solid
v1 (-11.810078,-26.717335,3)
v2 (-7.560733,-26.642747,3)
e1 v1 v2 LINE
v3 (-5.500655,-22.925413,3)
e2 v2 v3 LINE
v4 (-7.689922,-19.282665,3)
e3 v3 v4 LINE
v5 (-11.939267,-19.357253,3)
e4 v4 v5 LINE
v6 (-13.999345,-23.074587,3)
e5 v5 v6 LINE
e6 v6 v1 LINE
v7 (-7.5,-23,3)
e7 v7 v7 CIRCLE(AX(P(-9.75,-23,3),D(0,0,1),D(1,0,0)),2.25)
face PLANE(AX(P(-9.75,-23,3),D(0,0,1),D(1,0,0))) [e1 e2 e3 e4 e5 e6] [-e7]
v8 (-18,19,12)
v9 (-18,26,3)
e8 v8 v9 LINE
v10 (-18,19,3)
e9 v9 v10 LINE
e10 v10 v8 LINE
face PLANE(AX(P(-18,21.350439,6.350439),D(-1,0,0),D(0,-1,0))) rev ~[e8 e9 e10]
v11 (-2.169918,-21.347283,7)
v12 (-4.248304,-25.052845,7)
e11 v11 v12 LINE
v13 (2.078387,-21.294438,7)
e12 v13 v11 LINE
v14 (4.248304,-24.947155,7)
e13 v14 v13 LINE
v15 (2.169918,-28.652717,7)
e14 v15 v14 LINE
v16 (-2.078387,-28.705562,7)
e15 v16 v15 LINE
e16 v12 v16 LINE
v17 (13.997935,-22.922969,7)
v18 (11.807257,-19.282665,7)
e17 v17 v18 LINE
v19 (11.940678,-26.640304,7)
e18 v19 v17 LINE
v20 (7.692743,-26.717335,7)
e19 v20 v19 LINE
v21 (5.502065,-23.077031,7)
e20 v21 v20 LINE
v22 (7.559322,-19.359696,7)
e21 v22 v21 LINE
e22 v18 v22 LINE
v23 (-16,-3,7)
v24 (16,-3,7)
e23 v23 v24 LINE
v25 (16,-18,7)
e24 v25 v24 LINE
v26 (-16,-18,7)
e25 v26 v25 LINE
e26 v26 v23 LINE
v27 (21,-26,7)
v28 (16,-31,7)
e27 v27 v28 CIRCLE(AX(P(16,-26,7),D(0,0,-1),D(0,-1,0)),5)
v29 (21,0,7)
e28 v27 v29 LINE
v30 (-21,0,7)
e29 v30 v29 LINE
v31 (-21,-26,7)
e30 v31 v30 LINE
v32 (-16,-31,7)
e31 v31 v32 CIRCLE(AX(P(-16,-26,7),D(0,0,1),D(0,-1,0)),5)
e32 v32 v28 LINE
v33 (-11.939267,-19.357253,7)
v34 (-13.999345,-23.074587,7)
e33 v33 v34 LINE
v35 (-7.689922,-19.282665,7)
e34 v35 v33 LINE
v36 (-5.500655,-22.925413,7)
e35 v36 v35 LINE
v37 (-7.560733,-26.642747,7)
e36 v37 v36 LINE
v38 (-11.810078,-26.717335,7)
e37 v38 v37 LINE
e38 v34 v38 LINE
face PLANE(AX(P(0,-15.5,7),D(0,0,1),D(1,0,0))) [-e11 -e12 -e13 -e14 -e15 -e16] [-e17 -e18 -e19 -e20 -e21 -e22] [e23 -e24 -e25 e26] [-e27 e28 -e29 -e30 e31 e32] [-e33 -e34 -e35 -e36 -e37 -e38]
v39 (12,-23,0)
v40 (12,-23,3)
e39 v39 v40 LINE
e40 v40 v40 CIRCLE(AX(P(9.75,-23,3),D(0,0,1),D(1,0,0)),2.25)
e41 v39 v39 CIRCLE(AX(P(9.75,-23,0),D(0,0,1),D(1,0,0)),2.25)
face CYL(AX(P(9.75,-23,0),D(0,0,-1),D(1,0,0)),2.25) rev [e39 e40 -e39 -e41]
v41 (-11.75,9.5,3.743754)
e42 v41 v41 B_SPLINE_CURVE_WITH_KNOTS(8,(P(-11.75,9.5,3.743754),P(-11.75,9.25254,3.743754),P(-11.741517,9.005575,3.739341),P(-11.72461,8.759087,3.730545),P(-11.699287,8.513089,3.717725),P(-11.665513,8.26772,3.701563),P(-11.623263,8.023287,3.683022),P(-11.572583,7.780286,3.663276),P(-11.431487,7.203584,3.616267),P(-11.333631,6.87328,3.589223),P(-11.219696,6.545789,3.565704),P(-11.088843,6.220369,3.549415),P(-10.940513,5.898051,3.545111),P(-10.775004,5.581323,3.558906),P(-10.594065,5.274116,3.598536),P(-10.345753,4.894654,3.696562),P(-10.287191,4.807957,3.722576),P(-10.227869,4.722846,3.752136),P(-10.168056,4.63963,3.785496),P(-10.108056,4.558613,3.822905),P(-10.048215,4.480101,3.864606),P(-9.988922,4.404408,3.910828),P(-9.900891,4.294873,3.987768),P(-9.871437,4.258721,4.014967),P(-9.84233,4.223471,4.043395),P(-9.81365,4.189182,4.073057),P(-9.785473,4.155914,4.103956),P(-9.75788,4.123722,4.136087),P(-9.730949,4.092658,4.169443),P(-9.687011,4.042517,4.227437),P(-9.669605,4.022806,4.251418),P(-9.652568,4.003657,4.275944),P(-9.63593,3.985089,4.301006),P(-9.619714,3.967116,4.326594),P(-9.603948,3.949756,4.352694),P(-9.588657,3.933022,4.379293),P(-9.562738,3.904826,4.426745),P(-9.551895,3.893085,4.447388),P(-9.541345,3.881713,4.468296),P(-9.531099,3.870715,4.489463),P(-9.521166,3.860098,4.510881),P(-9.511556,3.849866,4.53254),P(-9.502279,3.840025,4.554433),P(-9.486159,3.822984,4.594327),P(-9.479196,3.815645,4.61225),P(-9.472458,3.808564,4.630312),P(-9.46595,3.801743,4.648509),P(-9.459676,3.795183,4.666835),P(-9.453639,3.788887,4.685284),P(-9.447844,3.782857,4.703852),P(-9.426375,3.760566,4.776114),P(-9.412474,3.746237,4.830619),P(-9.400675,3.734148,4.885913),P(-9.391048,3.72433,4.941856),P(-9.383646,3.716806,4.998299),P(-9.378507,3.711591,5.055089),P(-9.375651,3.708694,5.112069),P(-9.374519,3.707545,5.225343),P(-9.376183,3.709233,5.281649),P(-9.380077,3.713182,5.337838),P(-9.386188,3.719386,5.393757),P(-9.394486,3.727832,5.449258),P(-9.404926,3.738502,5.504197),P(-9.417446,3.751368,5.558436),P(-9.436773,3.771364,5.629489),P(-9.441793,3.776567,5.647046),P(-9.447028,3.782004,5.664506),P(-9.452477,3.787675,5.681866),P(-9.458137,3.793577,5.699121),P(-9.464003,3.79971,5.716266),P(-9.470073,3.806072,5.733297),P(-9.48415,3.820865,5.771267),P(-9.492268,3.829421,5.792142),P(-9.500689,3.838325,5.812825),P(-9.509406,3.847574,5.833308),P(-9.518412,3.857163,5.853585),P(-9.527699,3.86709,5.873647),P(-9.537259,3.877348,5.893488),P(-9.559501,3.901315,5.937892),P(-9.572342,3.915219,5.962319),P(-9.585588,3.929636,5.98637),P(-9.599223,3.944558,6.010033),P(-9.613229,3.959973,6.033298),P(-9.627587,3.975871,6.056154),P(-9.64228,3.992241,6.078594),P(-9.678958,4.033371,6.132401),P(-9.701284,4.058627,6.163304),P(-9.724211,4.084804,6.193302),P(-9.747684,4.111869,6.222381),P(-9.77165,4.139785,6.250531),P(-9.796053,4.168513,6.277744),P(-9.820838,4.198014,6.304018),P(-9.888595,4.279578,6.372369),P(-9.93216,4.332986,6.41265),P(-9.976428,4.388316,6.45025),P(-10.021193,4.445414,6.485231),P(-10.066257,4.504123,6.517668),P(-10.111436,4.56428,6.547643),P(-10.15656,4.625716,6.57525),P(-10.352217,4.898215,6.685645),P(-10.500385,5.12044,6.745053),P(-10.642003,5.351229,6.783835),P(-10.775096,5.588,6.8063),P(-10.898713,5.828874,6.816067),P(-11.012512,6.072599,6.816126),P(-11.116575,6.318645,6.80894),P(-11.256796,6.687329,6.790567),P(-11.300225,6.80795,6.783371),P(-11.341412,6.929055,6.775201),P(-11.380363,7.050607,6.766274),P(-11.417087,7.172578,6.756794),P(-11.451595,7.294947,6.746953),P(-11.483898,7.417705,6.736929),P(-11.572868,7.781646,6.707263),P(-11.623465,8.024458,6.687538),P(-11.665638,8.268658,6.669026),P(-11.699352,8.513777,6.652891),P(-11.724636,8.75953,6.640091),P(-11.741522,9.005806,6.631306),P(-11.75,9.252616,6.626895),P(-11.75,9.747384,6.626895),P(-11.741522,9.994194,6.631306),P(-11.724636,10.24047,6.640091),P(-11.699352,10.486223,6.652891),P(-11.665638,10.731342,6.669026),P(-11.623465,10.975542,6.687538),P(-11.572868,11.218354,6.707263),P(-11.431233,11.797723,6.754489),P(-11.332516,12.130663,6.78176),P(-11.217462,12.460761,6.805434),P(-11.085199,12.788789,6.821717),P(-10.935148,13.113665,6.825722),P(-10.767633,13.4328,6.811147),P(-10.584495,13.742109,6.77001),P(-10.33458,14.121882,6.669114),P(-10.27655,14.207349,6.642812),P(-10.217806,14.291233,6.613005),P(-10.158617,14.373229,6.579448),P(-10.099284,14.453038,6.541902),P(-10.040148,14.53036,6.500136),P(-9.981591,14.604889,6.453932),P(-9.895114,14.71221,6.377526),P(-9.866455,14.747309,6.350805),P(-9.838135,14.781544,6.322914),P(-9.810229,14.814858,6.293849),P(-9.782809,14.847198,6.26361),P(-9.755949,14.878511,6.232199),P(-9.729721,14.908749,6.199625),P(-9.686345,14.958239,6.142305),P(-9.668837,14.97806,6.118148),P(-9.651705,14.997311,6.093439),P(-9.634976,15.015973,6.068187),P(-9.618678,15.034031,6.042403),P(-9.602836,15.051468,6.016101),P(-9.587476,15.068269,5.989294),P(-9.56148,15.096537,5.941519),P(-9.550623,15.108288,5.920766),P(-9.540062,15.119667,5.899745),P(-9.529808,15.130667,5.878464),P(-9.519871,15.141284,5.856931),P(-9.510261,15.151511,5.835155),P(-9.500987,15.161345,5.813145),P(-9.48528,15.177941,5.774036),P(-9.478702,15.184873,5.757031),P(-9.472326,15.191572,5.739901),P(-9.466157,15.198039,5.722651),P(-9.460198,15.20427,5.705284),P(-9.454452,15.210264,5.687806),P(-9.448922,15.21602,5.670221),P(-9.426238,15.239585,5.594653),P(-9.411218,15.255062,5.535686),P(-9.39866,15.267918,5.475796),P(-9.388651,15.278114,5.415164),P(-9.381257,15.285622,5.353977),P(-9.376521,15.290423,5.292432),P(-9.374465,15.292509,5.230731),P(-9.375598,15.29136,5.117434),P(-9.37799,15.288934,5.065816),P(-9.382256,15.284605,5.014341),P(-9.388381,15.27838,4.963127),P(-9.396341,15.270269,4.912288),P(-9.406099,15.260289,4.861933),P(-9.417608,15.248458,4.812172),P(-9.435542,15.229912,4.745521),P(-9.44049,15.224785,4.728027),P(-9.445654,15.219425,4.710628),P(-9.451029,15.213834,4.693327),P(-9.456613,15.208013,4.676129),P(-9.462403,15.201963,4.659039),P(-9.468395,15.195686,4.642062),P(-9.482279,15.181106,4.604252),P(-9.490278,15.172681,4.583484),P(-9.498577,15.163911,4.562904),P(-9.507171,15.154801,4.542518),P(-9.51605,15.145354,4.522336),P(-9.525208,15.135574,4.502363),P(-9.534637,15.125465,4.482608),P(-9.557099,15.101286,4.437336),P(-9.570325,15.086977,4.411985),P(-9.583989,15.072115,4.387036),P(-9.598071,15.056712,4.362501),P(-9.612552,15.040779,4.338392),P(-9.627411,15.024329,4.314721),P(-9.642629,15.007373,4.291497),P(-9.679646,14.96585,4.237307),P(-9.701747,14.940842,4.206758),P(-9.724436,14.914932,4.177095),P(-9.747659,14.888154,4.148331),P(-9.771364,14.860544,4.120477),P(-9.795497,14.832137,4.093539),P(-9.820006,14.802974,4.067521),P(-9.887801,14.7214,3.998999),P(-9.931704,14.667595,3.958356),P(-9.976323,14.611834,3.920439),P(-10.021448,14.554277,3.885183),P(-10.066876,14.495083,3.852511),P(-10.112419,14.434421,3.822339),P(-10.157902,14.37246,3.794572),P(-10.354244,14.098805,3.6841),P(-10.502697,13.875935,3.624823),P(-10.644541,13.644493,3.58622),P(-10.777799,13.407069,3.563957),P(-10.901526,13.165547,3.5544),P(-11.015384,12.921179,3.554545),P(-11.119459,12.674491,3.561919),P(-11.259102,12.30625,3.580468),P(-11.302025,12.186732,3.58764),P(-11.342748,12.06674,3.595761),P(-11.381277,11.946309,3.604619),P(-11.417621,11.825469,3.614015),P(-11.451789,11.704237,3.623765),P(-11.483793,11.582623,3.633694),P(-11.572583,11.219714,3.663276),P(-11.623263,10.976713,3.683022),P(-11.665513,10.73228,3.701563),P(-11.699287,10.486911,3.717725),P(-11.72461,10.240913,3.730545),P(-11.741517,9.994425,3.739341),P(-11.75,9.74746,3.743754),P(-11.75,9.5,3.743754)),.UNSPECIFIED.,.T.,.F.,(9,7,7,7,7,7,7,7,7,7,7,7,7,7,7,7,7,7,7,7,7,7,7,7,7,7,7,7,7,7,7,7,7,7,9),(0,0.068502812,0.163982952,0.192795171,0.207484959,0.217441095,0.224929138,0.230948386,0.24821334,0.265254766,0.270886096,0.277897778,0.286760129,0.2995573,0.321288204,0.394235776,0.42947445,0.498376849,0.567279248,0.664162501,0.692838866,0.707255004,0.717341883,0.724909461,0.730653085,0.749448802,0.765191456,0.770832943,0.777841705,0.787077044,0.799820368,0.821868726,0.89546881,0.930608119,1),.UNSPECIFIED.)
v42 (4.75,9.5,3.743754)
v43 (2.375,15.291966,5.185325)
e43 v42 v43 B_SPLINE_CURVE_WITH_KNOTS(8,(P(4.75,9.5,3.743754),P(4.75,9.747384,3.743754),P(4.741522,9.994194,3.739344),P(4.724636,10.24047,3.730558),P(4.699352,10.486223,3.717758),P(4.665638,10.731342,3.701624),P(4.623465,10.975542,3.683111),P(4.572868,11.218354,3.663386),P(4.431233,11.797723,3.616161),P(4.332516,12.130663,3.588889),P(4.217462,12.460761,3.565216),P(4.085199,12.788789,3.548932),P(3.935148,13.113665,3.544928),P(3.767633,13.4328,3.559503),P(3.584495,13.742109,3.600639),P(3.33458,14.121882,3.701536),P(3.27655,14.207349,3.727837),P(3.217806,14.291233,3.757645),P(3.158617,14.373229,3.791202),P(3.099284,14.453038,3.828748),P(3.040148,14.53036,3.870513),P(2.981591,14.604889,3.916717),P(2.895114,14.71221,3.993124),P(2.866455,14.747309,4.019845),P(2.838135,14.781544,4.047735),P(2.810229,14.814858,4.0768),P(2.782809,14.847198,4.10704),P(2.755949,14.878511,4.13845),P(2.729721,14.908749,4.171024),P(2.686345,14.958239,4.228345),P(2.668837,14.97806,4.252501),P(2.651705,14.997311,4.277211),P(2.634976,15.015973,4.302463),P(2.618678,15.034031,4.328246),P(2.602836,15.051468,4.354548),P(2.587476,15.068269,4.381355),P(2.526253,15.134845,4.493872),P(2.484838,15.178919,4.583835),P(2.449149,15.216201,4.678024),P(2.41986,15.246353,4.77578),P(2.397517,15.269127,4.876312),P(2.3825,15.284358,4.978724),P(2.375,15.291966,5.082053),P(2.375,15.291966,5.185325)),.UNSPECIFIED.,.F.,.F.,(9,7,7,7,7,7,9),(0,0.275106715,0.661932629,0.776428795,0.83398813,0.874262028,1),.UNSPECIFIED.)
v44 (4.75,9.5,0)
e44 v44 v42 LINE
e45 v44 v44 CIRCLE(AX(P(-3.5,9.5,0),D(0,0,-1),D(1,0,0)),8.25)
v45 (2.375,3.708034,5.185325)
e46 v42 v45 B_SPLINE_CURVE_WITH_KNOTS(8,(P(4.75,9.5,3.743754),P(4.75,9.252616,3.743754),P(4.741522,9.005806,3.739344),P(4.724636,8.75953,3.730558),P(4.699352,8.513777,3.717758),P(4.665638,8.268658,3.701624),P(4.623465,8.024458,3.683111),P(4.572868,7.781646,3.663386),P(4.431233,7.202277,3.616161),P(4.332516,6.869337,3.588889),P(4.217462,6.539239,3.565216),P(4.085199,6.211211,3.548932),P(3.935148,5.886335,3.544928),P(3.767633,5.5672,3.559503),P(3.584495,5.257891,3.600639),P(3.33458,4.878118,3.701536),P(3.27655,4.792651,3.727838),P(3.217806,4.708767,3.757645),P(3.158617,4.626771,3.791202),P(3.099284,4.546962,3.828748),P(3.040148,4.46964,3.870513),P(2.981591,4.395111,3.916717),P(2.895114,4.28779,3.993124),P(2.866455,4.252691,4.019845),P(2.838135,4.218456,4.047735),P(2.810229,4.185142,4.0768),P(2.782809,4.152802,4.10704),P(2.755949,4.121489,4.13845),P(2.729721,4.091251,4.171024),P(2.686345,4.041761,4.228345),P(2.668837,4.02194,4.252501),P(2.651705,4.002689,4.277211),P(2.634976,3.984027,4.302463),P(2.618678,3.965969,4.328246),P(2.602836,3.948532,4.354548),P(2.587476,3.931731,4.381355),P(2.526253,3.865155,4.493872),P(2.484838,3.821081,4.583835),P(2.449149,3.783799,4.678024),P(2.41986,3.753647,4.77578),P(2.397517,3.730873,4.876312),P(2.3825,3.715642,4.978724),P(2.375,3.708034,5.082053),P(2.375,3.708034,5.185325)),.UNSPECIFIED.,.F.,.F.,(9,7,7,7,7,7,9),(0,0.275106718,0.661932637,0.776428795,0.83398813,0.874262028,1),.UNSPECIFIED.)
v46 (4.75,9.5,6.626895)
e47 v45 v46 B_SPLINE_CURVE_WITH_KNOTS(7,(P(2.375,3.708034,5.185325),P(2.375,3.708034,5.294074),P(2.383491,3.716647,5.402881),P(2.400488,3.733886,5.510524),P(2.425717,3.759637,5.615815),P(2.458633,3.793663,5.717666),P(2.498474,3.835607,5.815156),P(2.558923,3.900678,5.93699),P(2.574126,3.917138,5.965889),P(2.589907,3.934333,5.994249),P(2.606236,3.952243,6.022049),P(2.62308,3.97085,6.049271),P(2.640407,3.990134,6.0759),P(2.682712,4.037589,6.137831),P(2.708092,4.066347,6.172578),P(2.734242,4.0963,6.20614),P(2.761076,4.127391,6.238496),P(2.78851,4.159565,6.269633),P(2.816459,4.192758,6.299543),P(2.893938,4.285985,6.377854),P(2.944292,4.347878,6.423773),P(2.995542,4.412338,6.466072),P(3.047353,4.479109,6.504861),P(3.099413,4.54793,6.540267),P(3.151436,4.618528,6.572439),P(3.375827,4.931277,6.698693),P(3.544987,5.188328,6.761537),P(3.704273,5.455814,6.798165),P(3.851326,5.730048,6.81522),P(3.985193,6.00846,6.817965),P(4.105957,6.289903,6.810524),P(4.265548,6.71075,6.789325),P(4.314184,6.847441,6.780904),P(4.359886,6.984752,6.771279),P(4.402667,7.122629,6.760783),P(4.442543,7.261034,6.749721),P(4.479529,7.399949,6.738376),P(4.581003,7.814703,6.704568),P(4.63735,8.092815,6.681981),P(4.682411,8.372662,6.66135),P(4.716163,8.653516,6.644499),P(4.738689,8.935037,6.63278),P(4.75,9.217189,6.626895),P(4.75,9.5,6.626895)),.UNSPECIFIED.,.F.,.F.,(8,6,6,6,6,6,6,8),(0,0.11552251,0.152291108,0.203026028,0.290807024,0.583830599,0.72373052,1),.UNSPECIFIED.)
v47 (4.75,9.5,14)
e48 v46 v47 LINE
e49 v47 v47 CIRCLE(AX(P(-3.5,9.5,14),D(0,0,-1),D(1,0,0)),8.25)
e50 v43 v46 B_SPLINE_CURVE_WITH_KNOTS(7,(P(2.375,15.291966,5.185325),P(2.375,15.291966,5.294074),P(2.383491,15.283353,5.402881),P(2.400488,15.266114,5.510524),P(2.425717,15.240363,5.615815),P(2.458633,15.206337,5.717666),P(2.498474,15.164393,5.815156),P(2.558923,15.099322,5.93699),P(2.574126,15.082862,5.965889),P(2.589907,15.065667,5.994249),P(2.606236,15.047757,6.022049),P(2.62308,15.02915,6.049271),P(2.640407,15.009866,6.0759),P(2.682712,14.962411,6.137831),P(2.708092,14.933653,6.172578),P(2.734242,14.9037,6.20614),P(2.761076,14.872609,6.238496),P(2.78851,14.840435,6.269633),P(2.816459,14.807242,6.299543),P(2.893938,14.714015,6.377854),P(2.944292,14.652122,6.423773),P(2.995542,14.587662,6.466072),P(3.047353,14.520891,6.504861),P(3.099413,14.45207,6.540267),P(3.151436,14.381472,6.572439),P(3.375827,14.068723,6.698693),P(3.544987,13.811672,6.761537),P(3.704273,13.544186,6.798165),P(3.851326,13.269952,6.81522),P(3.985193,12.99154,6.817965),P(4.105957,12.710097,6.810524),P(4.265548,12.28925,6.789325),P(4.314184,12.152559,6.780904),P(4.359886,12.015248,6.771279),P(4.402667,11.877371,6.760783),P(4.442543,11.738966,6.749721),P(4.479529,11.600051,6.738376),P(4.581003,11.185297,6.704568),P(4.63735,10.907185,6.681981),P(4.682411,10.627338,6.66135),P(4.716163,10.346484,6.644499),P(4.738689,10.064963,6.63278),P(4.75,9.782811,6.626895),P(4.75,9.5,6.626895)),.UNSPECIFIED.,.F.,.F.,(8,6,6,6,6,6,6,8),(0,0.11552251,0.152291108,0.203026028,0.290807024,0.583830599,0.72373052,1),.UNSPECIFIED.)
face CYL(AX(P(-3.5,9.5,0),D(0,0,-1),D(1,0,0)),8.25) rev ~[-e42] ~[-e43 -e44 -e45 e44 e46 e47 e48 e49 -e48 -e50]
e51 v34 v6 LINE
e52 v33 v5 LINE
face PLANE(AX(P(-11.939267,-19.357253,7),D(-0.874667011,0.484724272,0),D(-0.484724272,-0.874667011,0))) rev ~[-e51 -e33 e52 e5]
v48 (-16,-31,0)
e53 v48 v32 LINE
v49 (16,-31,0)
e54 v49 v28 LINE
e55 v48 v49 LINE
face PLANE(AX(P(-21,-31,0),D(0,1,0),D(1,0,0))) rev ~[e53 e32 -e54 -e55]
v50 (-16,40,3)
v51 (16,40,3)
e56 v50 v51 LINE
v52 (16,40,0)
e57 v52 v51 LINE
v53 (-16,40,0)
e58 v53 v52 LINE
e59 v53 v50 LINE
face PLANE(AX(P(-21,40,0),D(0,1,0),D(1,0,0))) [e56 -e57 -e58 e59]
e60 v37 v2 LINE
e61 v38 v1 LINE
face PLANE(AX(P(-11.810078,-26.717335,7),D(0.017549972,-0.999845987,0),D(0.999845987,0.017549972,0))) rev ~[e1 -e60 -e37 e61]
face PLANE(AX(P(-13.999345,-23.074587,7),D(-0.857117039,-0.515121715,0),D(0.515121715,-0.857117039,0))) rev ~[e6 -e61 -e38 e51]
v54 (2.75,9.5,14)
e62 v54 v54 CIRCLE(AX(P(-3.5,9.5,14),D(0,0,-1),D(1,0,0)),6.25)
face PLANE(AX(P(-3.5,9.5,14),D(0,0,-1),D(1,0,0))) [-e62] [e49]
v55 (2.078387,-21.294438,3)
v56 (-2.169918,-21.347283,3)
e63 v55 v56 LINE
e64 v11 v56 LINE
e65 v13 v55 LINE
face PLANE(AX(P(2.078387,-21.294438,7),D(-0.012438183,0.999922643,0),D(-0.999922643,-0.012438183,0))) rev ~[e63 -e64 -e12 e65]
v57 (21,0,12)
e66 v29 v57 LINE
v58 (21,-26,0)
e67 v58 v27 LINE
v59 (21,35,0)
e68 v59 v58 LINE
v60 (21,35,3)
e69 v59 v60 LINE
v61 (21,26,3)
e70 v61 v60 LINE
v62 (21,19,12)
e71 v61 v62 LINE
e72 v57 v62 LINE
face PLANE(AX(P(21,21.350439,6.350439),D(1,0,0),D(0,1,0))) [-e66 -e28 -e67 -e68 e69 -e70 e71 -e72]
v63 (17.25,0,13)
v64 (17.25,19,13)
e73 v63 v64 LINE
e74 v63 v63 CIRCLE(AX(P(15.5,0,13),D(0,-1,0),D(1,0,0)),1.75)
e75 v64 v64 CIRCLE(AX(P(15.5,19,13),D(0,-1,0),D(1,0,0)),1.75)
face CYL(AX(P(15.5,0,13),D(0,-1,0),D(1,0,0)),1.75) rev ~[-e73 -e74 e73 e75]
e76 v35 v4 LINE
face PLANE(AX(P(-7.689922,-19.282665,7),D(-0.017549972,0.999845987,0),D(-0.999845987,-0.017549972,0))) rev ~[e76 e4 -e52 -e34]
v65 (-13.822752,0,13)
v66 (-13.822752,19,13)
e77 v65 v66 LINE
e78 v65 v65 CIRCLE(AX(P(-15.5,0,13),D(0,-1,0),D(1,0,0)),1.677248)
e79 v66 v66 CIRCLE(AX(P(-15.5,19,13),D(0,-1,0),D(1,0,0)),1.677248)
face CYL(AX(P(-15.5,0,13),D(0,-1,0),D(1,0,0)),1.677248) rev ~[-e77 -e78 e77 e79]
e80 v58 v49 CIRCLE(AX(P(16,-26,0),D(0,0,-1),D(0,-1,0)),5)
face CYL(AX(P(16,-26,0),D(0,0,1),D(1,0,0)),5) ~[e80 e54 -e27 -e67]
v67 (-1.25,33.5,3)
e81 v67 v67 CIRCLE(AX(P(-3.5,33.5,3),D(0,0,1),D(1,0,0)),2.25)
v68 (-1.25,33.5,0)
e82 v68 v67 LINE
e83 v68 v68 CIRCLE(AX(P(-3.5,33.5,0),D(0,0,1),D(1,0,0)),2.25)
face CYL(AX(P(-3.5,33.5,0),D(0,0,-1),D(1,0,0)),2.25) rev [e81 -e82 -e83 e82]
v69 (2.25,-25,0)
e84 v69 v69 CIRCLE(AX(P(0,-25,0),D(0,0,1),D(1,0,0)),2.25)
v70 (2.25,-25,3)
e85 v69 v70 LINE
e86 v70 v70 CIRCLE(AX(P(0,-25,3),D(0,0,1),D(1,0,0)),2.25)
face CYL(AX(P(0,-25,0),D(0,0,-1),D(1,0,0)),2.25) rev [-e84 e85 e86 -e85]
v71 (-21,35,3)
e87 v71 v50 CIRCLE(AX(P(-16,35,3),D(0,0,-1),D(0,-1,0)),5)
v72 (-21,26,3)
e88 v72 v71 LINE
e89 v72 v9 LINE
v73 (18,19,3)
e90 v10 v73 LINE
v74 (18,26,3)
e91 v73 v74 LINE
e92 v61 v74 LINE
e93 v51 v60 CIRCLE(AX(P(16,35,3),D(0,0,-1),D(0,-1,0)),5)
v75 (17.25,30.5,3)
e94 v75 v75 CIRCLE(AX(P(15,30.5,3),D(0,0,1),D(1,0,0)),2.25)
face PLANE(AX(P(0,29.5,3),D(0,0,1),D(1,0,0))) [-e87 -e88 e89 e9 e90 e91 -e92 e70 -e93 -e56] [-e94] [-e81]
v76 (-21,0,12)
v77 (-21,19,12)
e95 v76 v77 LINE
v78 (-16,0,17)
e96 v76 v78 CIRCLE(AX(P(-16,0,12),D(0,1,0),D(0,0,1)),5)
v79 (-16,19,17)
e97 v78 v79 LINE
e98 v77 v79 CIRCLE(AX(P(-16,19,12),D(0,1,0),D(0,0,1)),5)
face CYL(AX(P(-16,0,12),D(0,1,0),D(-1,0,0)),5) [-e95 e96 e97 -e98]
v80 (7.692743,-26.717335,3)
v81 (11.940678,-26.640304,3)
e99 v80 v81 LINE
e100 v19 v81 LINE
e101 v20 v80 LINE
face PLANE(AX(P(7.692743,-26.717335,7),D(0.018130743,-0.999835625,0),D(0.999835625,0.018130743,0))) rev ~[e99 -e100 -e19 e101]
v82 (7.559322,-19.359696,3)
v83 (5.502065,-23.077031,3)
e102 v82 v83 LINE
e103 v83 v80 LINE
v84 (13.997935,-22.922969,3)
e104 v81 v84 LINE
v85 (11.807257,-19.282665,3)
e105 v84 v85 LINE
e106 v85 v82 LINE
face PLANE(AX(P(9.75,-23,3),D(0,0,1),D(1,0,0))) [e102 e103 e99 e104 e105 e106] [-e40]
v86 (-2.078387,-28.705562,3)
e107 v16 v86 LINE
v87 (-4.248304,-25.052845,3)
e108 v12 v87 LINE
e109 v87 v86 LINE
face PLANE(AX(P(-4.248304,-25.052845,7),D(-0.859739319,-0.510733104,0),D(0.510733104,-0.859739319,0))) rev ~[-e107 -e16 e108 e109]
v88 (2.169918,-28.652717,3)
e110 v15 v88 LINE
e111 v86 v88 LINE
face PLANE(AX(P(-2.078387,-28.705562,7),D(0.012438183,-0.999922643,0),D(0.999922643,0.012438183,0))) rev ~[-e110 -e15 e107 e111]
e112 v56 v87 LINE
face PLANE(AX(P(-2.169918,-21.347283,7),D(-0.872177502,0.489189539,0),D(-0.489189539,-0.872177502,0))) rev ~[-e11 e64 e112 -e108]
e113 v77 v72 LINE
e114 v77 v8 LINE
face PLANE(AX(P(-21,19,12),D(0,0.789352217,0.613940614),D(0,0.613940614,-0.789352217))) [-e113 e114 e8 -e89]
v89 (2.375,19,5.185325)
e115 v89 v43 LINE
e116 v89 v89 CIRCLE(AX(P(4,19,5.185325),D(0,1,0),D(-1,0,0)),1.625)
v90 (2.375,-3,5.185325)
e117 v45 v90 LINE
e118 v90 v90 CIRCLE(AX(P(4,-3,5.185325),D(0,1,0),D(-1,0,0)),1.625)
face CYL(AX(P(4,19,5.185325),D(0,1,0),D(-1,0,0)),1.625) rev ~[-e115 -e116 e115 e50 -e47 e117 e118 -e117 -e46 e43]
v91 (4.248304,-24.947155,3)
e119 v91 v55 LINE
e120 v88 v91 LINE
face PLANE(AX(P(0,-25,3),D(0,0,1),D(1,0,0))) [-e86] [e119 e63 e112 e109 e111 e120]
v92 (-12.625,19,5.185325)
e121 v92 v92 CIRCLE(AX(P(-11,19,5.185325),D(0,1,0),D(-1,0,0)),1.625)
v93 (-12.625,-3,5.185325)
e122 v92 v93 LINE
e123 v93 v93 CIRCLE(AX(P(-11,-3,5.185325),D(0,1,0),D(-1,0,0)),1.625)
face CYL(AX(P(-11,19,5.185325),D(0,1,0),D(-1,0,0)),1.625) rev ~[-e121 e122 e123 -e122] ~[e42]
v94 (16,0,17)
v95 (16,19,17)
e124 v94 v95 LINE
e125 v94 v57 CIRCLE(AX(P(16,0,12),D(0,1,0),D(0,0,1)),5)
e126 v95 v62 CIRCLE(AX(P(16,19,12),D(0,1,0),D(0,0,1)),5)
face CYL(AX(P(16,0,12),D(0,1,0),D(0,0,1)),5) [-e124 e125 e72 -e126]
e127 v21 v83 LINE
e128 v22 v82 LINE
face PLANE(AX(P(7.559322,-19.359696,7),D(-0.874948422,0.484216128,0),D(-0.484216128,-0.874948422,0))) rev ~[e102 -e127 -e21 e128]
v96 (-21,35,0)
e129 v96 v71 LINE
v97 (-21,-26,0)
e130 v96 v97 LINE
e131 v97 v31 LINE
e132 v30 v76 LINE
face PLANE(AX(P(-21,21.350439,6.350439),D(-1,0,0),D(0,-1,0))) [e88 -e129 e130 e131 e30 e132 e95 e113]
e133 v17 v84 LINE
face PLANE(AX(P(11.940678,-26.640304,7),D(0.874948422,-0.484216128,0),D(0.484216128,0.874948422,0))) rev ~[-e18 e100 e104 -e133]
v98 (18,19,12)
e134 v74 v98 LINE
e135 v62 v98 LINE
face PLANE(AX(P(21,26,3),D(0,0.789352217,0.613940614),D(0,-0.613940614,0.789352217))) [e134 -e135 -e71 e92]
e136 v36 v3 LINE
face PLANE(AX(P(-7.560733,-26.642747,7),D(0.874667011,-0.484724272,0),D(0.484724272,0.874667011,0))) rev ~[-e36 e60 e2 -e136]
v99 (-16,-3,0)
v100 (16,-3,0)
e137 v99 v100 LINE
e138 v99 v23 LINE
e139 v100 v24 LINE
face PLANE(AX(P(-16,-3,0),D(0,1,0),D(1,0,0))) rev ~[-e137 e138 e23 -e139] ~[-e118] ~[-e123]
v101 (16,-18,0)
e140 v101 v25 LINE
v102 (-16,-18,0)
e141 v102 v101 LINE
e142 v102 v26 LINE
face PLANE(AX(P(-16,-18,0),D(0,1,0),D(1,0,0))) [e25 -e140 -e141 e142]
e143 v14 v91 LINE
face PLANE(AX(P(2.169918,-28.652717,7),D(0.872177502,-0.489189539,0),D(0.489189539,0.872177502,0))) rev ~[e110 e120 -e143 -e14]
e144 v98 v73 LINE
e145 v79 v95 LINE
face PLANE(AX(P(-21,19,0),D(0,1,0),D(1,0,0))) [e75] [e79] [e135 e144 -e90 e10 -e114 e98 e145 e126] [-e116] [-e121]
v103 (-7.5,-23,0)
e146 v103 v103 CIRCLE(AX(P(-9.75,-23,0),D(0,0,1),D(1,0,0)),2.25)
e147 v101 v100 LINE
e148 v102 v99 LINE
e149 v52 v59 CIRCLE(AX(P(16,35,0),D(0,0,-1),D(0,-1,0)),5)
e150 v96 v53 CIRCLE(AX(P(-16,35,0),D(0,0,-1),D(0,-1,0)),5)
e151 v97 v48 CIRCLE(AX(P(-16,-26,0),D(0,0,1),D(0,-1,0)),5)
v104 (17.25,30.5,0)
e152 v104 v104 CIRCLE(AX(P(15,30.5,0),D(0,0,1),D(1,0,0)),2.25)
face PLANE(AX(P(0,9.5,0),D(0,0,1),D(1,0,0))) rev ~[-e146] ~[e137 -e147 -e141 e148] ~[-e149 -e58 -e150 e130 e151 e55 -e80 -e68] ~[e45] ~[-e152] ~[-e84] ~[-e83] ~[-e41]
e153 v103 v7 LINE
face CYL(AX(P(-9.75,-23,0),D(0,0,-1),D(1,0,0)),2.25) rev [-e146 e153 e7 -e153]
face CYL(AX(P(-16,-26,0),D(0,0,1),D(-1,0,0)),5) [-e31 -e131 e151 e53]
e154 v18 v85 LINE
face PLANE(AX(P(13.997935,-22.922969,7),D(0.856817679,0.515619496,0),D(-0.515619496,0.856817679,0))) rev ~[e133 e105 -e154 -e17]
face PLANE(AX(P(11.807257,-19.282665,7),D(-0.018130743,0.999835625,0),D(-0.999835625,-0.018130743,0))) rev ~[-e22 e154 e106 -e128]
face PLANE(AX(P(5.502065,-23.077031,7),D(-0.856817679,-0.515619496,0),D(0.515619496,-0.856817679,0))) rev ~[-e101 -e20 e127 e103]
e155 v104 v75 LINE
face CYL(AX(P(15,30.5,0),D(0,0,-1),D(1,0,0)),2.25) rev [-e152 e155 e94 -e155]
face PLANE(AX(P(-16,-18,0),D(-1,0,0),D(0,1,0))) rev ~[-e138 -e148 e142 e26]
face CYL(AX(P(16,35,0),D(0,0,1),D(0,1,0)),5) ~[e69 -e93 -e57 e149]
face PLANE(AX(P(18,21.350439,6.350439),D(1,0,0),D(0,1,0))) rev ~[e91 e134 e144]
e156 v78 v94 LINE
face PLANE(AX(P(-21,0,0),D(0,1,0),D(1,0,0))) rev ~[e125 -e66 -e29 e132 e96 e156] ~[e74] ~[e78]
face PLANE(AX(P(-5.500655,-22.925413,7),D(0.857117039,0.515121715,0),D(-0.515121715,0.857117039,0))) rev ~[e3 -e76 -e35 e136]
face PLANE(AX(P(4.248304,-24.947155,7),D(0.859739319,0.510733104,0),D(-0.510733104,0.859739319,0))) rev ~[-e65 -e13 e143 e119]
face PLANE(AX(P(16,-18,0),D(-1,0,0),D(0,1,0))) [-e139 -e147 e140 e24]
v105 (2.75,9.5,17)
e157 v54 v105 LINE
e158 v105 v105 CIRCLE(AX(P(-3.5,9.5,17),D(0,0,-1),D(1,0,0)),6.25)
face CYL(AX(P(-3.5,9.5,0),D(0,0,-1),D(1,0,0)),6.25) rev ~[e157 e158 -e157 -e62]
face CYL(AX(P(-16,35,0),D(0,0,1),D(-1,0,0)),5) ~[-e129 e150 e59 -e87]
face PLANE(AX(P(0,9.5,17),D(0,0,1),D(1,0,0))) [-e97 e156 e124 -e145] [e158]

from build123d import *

# Parameters (mm, degrees)
F0_W      = 42
F0_H      = 31
F0_R      = 2.25
F0_W_2    = 32
F0_H_2    = 15
F1_DEPTH  = 7
F0_H_3    = 21
F2_DEPTH  = 3
F0_H_4    = 19
F3_DEPTH  = 17
F4_R      = 5
F5_R      = 5
F6_R      = 6.25
F7_DEPTH  = 25
F9_DEPTH  = 3
F11_DEPTH = 3
F12_R     = 1.6772479293
F12_R_2   = 1.75
F13_DEPTH = 25
F6_R_2    = 8.25
F14_DEPTH = 14
F15_R     = 1.625
F16_DEPTH = 30
F17_R     = 2.25
F18_DEPTH = 4


with BuildPart() as f1:
    # F0 (on Top) → F1 (new body)
    with BuildSketch(Plane.XY):
        with Locations((0, -15.5)):
            Rectangle(F0_W, F0_H)
        with Locations((-9.75, -23)):
            Circle(F0_R, mode=Mode.SUBTRACT)
        with Locations((0, -25)):
            Circle(F0_R, mode=Mode.SUBTRACT)
        with Locations((9.75, -23)):
            Circle(F0_R, mode=Mode.SUBTRACT)
        with Locations((0, -10.5)):
            Rectangle(F0_W_2, F0_H_2, mode=Mode.SUBTRACT)
    extrude(amount=F1_DEPTH)



with BuildPart() as f2:
    # F0 (on Top) → F2 (new body)
    with BuildSketch(Plane.XY):
        with Locations((0, 29.5)):
            Rectangle(F0_W, F0_H_3)
        with Locations((-3.5, 33.5)):
            Circle(F0_R, mode=Mode.SUBTRACT)
        with Locations((15, 30.5)):
            Circle(F0_R, mode=Mode.SUBTRACT)
    extrude(amount=F2_DEPTH)


with BuildPart() as f1_1:
    add(f1.part)

    add(f2.part)  # F3 merges F2
    # F0 (on Top) → F3 (join)
    with BuildSketch(Plane.XY):
        with Locations((0, 9.5)):
            Rectangle(F0_W, F0_H_4)
    extrude(amount=F3_DEPTH)

    # F4
    f4_edges = [f1_1.edges().sort_by_distance(p)[0] for p in [
        (-21, -31, 3.5),
        (21, -31, 3.5),
    ]]
    fillet(f4_edges, radius=F4_R)

    # F5
    f5_edges = [f1_1.edges().sort_by_distance(p)[0] for p in [
        (-21, 40, 1.5),
        (21, 40, 1.5),
        (21, 9.5, 17),
        (-21, 9.5, 17),
    ]]
    fillet(f5_edges, radius=F5_R)

    # F6 (on face) → F7 (cut)
    with BuildSketch(Plane(origin=(0, 0, 0), x_dir=(1, 0, 0), z_dir=(0, 0, -1))):
        with Locations((-3.5, -9.5)):
            Circle(F6_R)
    extrude(amount=-F7_DEPTH, mode=Mode.SUBTRACT)

    # F8 (on face) → F9 (join)
    with BuildSketch(Plane(origin=(-21, 0, 0), x_dir=(0, -1, 0), z_dir=(-1, 0, 0))):
        Polygon((-19, 3), (-19, 12), (-26, 3), align=None)
    extrude(amount=-F9_DEPTH)

    # F10 (on face) → F11 (join)
    with BuildSketch(Plane.YZ.offset(21)):
        Polygon((26, 3), (19, 12), (19, 3), align=None)
    extrude(amount=-F11_DEPTH)

    # F12 (on face) → F13 (cut)
    with BuildSketch(Plane.XZ):
        with Locations((-15.5, 13)):
            Circle(F12_R)
        with Locations((15.5, 13)):
            Circle(F12_R_2)
    extrude(amount=-F13_DEPTH, mode=Mode.SUBTRACT)

    # F6 (on face) → F14 (cut)
    with BuildSketch(Plane(origin=(0, 0, 0), x_dir=(1, 0, 0), z_dir=(0, 0, -1))):
        with Locations((-3.5, -9.5)):
            Circle(F6_R_2)
        with Locations((-3.5, -9.5)):
            Circle(F6_R, mode=Mode.SUBTRACT)
    extrude(amount=-F14_DEPTH, mode=Mode.SUBTRACT)

    # F15 (on face) → F16 (cut)
    with BuildSketch(Plane(origin=(0, 19, 0), x_dir=(-1, 0, 0), z_dir=(0, 1, 0))):
        with Locations((-4, 5.1853246987)):
            Circle(F15_R)
        with Locations((11, 5.1853246987)):
            Circle(F15_R)
    extrude(amount=-F16_DEPTH, mode=Mode.SUBTRACT)

    # F17 (on face) → F18 (cut)
    with BuildSketch(Plane.XY.offset(7)):
        Polygon((-5.5006545536, -22.9254126202), (-7.6899218425, -19.2826652041), (-11.9392672889, -19.3572525839), (-13.9993454464, -23.0745873798), (-11.8100781575, -26.7173347959), (-7.5607327111, -26.6427474161), align=None)
        with Locations((-9.75, -23)):
            Circle(F17_R, mode=Mode.SUBTRACT)
        Polygon((4.2483044025, -24.9471547253), (2.0783868508, -21.2944378271), (-2.1699175516, -21.3472831018), (-4.2483044025, -25.0528452747), (-2.0783868508, -28.7055621729), (2.1699175516, -28.6527168982), align=None)
        with Locations((0, -25)):
            Circle(F17_R, mode=Mode.SUBTRACT)
        Polygon((13.9979346939, -22.9229691252), (11.8072566524, -19.2826652041), (7.5593219586, -19.3596960789), (5.5020653061, -23.0770308748), (7.6927433476, -26.7173347959), (11.9406780414, -26.6403039211), align=None)
        with Locations((9.75, -23)):
            Circle(F17_R, mode=Mode.SUBTRACT)
    extrude(amount=-F18_DEPTH, mode=Mode.SUBTRACT)


solid = f1_1.part
